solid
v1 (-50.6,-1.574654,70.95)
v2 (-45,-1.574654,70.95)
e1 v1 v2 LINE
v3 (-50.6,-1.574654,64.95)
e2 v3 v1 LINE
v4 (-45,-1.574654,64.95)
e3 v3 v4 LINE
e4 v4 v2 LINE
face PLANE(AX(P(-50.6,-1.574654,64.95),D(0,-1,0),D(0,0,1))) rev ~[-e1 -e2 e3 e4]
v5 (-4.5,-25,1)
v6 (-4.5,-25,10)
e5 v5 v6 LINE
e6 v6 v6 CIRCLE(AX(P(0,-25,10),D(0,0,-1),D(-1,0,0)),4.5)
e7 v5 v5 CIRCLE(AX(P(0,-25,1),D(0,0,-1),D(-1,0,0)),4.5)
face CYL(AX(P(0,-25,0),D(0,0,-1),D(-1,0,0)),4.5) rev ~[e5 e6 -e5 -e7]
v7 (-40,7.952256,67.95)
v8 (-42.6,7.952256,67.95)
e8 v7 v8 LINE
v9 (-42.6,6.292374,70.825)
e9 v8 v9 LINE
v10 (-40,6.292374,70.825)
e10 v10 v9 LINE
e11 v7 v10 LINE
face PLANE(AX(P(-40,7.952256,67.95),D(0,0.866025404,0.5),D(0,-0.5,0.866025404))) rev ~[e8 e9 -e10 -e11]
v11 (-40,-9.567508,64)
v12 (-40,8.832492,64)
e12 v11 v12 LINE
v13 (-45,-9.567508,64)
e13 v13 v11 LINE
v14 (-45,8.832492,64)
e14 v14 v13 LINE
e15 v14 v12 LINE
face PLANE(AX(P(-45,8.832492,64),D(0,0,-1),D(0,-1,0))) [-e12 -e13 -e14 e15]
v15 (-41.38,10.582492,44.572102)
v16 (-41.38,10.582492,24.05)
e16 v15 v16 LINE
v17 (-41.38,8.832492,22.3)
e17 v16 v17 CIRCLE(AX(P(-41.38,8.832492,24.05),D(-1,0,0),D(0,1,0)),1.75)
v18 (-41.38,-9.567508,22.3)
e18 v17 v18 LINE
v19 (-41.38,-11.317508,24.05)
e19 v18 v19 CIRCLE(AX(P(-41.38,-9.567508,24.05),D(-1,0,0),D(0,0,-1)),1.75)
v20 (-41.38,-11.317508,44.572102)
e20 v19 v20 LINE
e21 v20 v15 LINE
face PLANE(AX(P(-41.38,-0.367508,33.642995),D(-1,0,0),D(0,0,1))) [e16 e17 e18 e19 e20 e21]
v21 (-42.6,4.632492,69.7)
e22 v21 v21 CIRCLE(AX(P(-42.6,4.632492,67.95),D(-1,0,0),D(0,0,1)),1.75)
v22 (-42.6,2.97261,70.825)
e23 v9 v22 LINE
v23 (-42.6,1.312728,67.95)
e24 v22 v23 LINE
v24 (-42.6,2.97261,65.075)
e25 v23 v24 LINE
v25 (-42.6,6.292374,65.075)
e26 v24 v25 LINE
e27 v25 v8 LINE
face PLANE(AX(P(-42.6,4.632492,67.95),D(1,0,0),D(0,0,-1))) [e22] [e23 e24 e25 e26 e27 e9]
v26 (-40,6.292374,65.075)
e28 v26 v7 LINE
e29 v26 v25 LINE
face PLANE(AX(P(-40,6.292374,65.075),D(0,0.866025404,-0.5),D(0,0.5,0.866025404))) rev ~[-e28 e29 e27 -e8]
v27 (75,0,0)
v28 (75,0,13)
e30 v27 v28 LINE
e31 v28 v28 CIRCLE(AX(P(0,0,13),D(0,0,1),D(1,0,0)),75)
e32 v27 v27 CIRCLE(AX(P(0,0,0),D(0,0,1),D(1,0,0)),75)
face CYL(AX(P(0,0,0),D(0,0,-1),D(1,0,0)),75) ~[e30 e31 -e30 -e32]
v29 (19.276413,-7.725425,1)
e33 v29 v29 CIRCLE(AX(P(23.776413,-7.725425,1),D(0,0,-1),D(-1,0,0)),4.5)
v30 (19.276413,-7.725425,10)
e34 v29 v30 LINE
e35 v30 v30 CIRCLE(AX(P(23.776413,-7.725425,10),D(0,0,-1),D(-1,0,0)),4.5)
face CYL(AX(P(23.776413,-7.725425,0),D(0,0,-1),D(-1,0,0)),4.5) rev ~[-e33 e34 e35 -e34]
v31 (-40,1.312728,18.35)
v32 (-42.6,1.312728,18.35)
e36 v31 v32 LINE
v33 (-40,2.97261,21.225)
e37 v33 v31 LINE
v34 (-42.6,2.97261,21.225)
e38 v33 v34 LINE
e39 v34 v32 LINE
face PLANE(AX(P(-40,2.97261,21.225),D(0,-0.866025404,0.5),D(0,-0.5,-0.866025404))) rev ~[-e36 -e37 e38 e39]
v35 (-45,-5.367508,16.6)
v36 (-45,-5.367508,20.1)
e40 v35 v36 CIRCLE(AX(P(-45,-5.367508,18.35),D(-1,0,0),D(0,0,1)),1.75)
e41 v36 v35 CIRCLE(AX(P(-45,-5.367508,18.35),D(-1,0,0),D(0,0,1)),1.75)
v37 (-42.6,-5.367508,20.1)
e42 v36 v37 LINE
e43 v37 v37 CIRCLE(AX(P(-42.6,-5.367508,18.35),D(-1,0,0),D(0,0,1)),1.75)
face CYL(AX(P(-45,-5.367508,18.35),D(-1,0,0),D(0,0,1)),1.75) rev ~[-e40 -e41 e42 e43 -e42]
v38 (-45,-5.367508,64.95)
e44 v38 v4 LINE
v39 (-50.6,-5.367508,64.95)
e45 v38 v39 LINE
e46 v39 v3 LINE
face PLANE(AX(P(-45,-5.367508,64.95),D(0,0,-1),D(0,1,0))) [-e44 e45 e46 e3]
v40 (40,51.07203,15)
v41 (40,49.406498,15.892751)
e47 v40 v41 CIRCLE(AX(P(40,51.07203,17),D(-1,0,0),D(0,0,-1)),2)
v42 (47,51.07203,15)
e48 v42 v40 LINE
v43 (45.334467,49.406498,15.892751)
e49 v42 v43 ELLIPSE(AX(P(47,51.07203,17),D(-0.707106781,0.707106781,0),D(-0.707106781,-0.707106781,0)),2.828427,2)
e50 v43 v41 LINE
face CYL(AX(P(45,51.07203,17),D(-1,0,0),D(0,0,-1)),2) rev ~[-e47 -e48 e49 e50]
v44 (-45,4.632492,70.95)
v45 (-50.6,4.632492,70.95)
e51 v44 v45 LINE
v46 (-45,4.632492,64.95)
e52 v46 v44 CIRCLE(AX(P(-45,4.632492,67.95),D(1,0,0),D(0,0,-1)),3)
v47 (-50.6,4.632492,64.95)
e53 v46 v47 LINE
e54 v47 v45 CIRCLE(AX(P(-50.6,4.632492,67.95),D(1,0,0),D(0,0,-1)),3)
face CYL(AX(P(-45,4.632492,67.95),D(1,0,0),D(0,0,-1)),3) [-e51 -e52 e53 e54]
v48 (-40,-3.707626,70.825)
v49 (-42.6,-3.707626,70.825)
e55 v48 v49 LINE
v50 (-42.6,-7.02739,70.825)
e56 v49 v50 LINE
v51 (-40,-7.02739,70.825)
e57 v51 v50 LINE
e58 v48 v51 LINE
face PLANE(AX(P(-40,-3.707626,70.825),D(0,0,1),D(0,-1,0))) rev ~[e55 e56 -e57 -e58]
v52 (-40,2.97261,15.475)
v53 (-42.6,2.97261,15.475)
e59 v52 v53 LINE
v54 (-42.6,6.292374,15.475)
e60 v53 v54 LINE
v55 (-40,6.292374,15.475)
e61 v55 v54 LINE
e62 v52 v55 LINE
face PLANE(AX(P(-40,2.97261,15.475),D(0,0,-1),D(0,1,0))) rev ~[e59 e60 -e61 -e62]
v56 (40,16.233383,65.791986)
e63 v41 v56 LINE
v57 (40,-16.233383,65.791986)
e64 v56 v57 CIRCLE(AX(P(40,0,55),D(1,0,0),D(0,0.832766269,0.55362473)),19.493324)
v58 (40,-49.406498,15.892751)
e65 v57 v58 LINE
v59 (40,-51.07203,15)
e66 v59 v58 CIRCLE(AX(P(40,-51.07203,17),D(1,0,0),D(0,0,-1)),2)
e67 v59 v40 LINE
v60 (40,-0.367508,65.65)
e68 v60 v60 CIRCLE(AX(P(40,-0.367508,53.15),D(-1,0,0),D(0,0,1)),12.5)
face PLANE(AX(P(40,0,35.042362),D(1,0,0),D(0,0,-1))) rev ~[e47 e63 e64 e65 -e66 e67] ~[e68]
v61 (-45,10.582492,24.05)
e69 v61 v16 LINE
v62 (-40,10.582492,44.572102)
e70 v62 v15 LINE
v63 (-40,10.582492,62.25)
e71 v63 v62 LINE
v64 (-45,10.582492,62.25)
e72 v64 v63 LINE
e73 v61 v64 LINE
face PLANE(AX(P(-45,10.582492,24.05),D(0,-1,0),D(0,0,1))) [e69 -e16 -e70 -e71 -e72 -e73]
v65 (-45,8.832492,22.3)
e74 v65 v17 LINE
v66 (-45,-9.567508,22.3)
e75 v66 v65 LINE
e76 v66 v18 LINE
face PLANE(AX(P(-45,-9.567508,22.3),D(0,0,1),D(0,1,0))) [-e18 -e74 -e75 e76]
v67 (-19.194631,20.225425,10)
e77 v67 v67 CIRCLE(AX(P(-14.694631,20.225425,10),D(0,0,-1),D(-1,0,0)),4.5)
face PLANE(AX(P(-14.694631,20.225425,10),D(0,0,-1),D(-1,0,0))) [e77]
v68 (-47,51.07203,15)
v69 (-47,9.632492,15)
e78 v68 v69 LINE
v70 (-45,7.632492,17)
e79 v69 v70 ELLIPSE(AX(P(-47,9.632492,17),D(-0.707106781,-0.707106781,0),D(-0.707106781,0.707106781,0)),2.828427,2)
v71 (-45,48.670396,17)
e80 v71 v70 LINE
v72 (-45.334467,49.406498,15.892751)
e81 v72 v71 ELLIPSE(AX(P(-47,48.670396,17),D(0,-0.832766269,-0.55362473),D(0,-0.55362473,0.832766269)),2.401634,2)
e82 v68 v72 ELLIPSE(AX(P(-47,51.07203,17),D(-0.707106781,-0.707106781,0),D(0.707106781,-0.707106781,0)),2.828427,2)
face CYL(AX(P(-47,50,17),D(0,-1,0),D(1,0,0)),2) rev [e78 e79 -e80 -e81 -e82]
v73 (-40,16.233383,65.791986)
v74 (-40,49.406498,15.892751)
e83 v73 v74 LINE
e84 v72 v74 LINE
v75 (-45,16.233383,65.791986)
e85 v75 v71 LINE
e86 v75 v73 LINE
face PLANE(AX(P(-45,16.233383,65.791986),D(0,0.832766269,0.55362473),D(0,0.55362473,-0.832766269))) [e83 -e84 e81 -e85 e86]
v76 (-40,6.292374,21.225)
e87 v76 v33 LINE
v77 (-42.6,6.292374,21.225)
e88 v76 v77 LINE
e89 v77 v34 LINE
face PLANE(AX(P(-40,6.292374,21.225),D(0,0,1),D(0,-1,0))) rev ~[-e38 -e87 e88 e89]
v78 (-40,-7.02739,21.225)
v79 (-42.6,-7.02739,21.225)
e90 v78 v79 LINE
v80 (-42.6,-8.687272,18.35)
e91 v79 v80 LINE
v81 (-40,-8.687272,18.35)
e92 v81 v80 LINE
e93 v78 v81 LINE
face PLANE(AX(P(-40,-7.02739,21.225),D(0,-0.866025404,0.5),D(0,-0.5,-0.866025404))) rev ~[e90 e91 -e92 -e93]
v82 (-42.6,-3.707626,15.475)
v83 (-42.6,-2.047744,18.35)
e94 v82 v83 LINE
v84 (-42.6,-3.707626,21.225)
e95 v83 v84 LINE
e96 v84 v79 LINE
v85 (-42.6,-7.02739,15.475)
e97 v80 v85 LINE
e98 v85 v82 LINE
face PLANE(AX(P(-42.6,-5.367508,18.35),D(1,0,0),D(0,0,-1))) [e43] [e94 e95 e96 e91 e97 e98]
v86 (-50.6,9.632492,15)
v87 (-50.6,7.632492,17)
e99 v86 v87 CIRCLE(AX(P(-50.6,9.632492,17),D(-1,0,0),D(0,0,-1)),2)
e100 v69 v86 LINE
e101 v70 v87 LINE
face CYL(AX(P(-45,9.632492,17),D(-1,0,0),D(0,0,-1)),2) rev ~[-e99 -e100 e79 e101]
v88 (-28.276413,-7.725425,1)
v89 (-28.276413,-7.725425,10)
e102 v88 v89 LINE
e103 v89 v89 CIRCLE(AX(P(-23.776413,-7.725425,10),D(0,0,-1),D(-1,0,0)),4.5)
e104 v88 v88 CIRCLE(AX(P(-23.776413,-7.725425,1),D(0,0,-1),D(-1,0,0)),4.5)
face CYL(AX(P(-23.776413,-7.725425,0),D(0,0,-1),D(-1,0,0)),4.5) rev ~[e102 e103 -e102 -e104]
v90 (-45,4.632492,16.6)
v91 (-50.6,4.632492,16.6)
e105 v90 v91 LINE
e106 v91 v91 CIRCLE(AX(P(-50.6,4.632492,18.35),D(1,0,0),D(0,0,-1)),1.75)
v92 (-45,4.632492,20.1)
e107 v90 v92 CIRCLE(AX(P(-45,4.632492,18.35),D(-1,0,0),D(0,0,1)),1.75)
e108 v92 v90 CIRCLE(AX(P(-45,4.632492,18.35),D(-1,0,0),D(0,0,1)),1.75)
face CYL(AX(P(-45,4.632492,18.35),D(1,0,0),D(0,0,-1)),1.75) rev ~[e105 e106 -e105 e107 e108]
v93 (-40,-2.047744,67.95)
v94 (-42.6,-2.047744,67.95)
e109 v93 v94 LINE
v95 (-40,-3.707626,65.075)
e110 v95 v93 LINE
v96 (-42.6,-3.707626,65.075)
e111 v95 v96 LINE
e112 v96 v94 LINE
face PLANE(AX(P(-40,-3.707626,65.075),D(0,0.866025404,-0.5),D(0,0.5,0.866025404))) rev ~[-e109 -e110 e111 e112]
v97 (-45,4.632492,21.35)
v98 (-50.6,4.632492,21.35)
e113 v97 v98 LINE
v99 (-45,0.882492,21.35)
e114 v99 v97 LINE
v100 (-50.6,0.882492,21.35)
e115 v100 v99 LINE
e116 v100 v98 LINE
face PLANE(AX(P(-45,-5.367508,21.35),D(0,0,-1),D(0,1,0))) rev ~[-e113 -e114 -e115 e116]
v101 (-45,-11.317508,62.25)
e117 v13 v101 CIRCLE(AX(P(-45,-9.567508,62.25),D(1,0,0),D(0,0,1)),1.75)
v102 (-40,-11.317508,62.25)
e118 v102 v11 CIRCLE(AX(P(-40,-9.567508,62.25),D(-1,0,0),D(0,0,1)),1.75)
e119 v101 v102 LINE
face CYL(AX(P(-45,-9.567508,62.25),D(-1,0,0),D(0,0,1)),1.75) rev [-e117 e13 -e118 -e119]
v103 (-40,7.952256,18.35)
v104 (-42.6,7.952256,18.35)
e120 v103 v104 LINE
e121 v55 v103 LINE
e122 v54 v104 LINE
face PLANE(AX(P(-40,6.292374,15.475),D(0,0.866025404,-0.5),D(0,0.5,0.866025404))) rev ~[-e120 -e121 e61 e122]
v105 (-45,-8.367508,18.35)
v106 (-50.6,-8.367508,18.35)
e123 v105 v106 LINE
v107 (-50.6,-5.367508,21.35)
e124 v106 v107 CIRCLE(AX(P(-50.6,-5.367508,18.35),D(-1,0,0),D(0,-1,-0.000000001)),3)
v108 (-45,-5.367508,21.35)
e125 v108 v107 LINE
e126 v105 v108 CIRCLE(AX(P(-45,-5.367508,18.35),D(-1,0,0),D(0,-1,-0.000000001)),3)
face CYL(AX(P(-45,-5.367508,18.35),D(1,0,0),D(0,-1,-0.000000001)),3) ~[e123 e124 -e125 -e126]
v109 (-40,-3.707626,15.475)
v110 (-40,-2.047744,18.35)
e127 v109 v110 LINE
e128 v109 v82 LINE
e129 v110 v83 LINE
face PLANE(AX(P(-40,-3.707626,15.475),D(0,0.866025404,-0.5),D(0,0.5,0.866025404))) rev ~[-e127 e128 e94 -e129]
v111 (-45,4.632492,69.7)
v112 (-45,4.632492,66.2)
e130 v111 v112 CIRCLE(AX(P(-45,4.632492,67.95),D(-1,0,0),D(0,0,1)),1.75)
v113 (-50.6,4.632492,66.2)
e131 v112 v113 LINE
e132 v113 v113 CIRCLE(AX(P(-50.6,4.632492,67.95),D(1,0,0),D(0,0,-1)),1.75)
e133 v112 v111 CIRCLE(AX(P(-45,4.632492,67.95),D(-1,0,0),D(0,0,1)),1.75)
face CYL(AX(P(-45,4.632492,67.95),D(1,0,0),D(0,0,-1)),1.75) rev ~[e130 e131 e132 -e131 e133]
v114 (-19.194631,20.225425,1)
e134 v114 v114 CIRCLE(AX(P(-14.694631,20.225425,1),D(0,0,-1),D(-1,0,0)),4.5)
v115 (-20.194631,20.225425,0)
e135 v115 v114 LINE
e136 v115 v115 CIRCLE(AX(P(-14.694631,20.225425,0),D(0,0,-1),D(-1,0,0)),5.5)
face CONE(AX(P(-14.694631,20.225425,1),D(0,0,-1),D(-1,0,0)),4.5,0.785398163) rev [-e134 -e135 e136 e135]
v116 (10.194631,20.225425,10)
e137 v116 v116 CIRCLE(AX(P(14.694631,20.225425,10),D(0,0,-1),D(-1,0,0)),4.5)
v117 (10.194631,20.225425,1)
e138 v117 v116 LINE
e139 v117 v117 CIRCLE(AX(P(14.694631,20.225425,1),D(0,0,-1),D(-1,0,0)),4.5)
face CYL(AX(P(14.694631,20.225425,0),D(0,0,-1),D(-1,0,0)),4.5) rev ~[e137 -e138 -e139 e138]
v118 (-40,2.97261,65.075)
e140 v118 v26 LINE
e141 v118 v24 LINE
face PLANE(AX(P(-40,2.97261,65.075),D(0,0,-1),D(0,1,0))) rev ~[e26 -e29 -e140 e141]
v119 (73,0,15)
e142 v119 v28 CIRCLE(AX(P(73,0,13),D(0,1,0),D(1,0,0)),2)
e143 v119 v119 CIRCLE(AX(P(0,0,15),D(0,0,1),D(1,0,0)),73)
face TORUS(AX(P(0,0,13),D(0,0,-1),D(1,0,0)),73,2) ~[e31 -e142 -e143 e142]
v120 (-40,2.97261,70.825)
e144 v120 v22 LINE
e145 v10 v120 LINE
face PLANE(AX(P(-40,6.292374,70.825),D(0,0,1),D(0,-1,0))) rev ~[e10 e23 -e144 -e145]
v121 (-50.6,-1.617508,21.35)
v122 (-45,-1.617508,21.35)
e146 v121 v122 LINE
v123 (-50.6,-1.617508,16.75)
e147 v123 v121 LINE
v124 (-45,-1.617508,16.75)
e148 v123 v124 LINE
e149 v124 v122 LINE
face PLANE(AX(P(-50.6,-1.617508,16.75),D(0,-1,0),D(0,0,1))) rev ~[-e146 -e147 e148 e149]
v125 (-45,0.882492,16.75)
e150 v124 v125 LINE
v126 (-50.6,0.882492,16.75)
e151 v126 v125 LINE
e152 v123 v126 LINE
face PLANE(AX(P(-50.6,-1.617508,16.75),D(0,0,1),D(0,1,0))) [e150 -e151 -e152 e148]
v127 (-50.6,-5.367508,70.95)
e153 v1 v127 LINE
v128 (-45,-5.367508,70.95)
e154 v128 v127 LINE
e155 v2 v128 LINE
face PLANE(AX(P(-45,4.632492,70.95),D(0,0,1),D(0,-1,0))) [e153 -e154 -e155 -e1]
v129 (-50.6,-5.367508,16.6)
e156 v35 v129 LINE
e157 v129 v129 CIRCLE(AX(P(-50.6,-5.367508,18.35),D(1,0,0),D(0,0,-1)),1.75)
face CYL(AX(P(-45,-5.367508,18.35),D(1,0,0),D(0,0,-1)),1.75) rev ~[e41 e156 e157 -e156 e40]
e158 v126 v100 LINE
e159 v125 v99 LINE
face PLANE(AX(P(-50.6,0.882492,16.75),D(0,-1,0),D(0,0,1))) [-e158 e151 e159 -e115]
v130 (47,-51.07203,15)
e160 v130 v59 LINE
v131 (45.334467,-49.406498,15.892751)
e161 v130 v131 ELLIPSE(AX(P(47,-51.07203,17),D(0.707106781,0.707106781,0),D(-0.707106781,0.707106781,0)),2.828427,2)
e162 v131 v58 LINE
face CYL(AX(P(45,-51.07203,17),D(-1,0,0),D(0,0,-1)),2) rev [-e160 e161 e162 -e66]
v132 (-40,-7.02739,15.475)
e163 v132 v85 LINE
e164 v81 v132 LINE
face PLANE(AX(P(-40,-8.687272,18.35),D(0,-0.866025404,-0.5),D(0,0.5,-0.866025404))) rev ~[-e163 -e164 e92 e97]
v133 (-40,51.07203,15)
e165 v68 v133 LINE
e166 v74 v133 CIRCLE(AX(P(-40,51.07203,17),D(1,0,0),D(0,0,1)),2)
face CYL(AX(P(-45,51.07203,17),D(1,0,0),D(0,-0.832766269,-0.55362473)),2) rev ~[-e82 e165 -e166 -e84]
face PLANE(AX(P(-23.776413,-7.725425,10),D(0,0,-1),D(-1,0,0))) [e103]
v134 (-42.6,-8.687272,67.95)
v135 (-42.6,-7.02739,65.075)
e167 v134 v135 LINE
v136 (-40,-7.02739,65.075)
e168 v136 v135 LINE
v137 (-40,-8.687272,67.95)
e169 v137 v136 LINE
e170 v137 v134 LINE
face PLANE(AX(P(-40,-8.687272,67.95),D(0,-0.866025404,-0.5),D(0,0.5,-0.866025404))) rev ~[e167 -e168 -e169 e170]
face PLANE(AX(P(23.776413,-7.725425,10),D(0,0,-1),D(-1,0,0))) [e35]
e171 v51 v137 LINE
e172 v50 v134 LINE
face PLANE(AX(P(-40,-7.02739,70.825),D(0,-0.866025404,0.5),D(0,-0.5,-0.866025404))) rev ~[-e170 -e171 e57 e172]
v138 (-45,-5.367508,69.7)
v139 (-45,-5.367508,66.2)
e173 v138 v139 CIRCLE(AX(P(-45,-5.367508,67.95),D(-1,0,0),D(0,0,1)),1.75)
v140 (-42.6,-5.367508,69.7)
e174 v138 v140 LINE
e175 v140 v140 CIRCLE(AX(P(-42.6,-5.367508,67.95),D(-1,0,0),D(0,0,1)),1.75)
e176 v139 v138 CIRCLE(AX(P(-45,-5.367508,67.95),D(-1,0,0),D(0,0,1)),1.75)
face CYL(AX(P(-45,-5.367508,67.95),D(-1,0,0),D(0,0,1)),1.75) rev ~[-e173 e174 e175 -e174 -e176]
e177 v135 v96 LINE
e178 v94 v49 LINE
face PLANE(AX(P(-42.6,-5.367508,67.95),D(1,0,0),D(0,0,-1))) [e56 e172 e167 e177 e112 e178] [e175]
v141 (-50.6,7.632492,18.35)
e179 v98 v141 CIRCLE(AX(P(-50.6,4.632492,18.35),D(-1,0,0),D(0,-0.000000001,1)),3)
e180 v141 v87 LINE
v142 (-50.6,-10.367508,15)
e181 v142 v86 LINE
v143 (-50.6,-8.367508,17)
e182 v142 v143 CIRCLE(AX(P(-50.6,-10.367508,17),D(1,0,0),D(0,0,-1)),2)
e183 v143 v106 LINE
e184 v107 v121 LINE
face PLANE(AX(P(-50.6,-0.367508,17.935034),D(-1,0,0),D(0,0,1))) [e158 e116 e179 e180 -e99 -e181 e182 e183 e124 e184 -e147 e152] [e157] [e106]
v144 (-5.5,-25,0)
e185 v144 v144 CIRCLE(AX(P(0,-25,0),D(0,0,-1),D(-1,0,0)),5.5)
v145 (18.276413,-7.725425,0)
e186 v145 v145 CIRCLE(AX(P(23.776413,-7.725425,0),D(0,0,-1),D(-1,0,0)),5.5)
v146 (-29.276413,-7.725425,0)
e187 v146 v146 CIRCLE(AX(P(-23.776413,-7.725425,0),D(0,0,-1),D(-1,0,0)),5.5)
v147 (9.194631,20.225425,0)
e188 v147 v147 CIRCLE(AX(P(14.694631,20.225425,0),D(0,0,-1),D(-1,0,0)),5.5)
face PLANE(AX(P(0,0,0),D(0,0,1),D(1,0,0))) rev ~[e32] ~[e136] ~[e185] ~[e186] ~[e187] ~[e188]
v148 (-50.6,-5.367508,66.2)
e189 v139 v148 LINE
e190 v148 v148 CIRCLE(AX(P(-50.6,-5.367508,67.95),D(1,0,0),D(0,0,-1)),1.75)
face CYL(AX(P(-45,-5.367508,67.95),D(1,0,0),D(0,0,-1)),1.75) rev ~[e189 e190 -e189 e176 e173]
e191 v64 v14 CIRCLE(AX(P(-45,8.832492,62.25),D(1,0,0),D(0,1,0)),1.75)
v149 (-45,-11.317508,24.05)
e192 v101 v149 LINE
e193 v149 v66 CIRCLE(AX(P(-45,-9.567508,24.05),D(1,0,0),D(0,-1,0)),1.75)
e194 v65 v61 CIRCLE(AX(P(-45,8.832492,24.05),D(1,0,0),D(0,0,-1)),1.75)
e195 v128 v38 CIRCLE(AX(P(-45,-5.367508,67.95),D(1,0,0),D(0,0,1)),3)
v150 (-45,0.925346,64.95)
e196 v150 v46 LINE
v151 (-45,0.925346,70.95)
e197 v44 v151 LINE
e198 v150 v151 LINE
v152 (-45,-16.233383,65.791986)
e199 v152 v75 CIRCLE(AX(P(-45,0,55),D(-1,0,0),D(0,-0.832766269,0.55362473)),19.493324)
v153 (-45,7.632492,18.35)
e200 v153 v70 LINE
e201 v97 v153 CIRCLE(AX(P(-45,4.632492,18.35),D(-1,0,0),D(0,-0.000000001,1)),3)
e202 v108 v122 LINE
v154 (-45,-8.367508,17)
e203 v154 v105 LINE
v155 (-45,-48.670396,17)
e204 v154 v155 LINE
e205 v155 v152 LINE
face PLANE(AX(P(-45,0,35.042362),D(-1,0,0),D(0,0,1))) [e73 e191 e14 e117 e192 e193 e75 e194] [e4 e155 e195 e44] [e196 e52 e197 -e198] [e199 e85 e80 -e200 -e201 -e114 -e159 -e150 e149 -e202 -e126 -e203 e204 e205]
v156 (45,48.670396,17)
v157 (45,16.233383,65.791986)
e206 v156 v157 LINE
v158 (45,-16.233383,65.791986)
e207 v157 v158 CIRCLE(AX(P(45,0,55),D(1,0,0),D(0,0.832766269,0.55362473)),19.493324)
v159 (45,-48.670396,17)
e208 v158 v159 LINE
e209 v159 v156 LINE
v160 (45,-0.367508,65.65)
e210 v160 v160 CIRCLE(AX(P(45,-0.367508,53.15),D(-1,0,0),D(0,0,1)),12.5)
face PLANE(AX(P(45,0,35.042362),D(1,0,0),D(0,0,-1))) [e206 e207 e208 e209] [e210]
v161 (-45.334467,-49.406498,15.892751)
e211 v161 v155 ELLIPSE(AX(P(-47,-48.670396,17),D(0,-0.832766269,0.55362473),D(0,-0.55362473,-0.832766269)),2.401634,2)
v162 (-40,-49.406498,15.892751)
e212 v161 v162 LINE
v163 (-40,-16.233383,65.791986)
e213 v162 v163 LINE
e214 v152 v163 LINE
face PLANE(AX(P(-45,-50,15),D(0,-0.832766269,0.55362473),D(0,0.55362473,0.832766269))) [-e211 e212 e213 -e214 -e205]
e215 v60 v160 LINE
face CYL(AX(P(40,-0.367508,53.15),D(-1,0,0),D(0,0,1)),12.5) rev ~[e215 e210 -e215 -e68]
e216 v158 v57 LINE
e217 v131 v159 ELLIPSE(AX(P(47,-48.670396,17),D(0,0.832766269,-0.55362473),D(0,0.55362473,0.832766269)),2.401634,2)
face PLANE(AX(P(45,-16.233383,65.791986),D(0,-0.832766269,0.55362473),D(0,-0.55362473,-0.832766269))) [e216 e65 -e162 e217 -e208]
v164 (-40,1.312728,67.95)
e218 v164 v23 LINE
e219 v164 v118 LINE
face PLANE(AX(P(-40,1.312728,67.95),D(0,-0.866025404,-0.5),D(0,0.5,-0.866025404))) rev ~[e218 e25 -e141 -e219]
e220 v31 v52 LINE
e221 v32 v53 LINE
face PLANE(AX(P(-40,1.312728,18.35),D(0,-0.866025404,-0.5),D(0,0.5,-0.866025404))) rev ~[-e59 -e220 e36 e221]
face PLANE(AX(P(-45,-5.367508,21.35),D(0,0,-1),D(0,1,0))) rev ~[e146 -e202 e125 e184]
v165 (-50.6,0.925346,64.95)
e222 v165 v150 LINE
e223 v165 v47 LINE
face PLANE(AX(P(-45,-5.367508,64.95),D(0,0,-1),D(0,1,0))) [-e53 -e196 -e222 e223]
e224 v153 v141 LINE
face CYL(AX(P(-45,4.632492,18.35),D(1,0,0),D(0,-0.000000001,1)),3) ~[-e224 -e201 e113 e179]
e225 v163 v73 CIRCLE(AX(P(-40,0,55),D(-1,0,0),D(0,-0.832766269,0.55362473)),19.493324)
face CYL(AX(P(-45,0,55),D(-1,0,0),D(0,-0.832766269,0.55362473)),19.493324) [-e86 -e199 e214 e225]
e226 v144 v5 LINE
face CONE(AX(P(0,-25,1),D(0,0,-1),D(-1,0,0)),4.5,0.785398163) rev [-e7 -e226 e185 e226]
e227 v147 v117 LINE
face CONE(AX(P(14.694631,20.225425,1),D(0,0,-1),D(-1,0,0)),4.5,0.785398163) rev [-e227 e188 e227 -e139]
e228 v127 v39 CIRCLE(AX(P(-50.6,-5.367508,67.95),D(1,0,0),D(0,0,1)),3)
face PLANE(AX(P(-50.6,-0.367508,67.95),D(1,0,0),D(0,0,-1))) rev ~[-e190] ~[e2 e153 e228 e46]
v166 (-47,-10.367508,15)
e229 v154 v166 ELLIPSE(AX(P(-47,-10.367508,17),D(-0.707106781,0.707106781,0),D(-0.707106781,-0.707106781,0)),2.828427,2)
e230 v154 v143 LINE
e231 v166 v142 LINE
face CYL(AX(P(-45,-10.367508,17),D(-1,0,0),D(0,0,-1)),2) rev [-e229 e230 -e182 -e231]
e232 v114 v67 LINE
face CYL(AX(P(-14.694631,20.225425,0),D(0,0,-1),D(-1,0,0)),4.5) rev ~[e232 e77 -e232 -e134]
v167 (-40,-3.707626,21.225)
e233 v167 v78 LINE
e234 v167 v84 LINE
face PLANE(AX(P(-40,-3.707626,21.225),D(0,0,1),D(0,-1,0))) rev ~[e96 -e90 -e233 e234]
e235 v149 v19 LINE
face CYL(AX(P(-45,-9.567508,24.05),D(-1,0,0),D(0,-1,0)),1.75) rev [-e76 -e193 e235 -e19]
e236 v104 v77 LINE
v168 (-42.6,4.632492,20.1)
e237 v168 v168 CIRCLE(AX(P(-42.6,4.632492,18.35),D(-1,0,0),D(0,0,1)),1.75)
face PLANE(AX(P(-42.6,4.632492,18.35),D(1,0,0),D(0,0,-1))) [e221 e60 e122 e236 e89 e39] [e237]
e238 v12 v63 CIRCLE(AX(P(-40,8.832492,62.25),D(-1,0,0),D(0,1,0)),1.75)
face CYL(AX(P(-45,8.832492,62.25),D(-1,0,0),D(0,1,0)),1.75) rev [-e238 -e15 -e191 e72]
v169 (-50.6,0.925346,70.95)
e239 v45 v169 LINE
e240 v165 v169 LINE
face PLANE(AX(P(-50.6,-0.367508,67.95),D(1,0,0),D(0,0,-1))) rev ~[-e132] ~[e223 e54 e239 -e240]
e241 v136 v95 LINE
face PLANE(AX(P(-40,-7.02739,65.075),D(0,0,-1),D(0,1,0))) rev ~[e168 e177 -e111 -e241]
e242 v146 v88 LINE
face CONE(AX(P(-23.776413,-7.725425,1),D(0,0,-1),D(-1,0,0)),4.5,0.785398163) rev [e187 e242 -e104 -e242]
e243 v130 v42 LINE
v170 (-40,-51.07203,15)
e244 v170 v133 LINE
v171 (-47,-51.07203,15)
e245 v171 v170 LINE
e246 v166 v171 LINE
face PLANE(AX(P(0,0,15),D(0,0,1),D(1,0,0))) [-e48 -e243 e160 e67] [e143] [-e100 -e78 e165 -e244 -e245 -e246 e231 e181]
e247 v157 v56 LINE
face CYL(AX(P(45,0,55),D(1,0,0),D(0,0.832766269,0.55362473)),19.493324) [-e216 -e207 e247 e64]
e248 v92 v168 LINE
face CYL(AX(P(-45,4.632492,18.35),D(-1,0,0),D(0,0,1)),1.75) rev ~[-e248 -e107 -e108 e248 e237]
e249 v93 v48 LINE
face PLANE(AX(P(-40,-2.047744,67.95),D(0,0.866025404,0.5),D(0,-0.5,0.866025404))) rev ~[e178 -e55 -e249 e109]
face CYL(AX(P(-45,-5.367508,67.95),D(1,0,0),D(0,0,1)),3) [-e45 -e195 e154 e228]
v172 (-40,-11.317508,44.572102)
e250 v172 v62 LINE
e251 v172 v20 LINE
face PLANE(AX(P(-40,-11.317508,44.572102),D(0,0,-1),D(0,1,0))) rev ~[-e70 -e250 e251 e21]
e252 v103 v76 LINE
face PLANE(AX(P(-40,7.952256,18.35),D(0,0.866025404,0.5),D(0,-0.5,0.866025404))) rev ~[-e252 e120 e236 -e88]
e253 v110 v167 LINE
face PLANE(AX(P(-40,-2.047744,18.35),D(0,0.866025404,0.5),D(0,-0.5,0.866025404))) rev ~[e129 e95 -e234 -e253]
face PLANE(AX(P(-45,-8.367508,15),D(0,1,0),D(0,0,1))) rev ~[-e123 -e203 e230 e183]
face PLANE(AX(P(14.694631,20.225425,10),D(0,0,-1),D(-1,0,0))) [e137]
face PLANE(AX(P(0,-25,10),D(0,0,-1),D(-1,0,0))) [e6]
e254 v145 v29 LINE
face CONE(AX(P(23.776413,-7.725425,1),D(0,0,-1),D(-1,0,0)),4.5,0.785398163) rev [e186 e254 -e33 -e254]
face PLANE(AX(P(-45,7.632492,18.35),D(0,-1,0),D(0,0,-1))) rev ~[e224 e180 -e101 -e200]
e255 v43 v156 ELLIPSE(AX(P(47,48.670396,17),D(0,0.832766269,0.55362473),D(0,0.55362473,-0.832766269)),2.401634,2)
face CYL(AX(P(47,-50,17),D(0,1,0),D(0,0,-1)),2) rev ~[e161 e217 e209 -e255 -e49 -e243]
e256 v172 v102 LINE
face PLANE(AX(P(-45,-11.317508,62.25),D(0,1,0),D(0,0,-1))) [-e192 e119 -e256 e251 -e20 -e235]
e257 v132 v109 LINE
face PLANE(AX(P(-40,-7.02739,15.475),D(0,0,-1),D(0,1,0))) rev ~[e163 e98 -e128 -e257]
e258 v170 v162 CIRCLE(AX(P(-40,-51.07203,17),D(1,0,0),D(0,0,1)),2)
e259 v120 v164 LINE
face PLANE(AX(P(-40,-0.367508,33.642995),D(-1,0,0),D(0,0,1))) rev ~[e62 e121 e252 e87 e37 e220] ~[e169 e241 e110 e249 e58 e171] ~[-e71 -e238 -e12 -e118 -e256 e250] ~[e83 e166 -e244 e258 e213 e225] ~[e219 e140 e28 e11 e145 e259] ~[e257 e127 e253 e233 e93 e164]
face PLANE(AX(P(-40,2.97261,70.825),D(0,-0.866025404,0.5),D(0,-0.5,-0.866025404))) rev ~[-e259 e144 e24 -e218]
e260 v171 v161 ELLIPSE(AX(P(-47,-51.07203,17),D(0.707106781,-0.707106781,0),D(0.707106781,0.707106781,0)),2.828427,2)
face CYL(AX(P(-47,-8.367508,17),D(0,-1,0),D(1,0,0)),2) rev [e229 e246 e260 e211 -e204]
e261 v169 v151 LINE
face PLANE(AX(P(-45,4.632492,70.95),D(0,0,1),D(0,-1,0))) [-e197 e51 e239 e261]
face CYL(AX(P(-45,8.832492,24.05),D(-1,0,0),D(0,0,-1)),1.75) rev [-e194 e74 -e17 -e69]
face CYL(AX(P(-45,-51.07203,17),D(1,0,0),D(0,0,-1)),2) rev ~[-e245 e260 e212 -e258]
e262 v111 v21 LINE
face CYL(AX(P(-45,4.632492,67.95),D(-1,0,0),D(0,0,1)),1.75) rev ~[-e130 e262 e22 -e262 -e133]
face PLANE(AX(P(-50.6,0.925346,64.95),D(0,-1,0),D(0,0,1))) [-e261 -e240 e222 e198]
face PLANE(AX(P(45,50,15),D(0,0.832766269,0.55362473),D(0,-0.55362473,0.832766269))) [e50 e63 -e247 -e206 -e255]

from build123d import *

# Parameters (mm, degrees)
SKETCH1_R           = 75
BASE_PLATE_DEPTH    = 15
SKETCH2_R           = 4.5
DRIVE_HOLES_DEPTH   = 10
CHAMFER1_SIZE       = 1
BASE_START          = 45
BASE_FIN_DEPTH      = 5
BASE_START_2        = 85
BASE_FIN_2_DEPTH    = 5
CUT_EXTRUDE1_REACH  = 122
CUT_EXTRUDE2_REACH  = 122
SKETCH7_R           = 1.75
BOSS_EXTRUDE1_DEPTH = 5.6
SKETCH9_R           = 1.75
CUT_EXTRUDE3_DEPTH  = 5.6
SKETCH10_W          = 4.6
SKETCH10_H          = 2.5
SKETCH10_W_2        = 6
CUT_EXTRUDE4_DEPTH  = 5.6
CUT_EXTRUDE5_DEPTH  = 2.6
BOSS_EXTRUDE2_DEPTH = 1.38
FILLET1_R           = 2
FILLET2_R           = 2
CUT_EXTRUDE6_REACH  = 37
SKETCH13_R          = 12.5


with BuildPart() as part:
    # Sketch1 → Base Plate (new body)
    with BuildSketch(Plane.XY):
        Circle(SKETCH1_R)
    extrude(amount=BASE_PLATE_DEPTH)

    # Sketch2 → Drive Holes (cut)
    with BuildSketch(Plane(origin=(0, 0, 0), x_dir=(-1, 0, 0), z_dir=(0, 0, -1))):
        with Locations((0, -25)):
            Circle(SKETCH2_R)
        with Locations((-23.776412907, -7.725424859)):
            Circle(SKETCH2_R)
        with Locations((-14.694631307, 20.225424859)):
            Circle(SKETCH2_R)
        with Locations((14.694631307, 20.225424859)):
            Circle(SKETCH2_R)
        with Locations((23.776412907, -7.725424859)):
            Circle(SKETCH2_R)
    extrude(amount=-DRIVE_HOLES_DEPTH, mode=Mode.SUBTRACT)

    # Chamfer1
    chamfer1_edges = [part.edges().sort_by_distance(p)[0] for p in [
        (28.276412907, -7.725424859, 0),
        (19.194631307, 20.225424859, 0),
        (-10.194631307, 20.225424859, 0),
        (-19.276412907, -7.725424859, 0),
        (4.5, -25, 0),
    ]]
    chamfer(chamfer1_edges, length=CHAMFER1_SIZE)

    # Sketch4 → Base Fin (add)
    with BuildSketch(Plane(origin=(0, 0, 0), x_dir=(0, 0, -1), z_dir=(1, 0, 0)).offset(BASE_START)):
        with BuildLine():
            Line((-15, 50), (-65.791986374, 16.233382914))
            ThreePointArc((-65.791986374, 16.233382914), (-74.493324261, 0), (-65.791986374, -16.233382914))
            Line((-65.791986374, -16.233382914), (-15, -50))
            Line((-15, -50), (-15, 50))
        make_face()
    extrude(amount=-BASE_FIN_DEPTH)

    # Sketch5 → Base Fin 2 (add)
    with BuildSketch(Plane.ZY.offset(-40).offset(BASE_START_2)):
        with BuildLine():
            Line((15, 50), (15, -50))
            Line((15, -50), (65.791986374, -16.233382914))
            ThreePointArc((65.791986374, -16.233382914), (74.493324261, 0), (65.791986374, 16.233382914))
            Line((65.791986374, 16.233382914), (15, 50))
        make_face()
    extrude(amount=-BASE_FIN_2_DEPTH)

    # Sketch6 → Cut-Extrude1 (cut, up to next)
    with BuildSketch(Plane.ZY.offset(45), mode=Mode.PRIVATE) as cut_extrude1_sk1:
        with BuildLine():
            Line((64, 8.832492425), (64, -9.567507575))
            ThreePointArc((64, -9.567507575), (63.487436867, -10.804944442), (62.25, -11.317507575))
            Line((62.25, -11.317507575), (24.05, -11.317507575))
            ThreePointArc((24.05, -11.317507575), (22.812563133, -10.804944442), (22.3, -9.567507575))
            Line((22.3, -9.567507575), (22.3, 8.832492425))
            ThreePointArc((22.3, 8.832492425), (22.812563133, 10.069929292), (24.05, 10.582492425))
            Line((24.05, 10.582492425), (62.25, 10.582492425))
            ThreePointArc((62.25, 10.582492425), (63.487436867, 10.069929292), (64, 8.832492425))
        make_face()
    cut_extrude1_tool1 = extrude(cut_extrude1_sk1.sketch, amount=-CUT_EXTRUDE1_REACH, mode=Mode.PRIVATE) & part.part
    add(cut_extrude1_tool1.solids().sort_by_distance((-45, -0.367508, 43.15))[0], mode=Mode.SUBTRACT)

    # Sketch7 → Cut-Extrude2 (cut, up to next)
    with BuildSketch(Plane.ZY.offset(45), mode=Mode.PRIVATE) as cut_extrude2_sk1:
        with Locations((18.35, 4.632492425)):
            Circle(SKETCH7_R)
    cut_extrude2_tool1 = extrude(cut_extrude2_sk1.sketch, amount=-CUT_EXTRUDE2_REACH, mode=Mode.PRIVATE) & part.part
    add(cut_extrude2_tool1.solids().sort_by_distance((-45, 4.632492, 18.35))[0], mode=Mode.SUBTRACT)
    # Sketch7 → Cut-Extrude2 (cut, up to next)
    with BuildSketch(Plane.ZY.offset(45), mode=Mode.PRIVATE) as cut_extrude2_sk2:
        with Locations((18.35, -5.367507575)):
            Circle(SKETCH7_R)
    cut_extrude2_tool2 = extrude(cut_extrude2_sk2.sketch, amount=-CUT_EXTRUDE2_REACH, mode=Mode.PRIVATE) & part.part
    add(cut_extrude2_tool2.solids().sort_by_distance((-45, -5.367508, 18.35))[0], mode=Mode.SUBTRACT)
    # Sketch7 → Cut-Extrude2 (cut, up to next)
    with BuildSketch(Plane.ZY.offset(45), mode=Mode.PRIVATE) as cut_extrude2_sk3:
        with Locations((67.95, -5.367507575)):
            Circle(SKETCH7_R)
    cut_extrude2_tool3 = extrude(cut_extrude2_sk3.sketch, amount=-CUT_EXTRUDE2_REACH, mode=Mode.PRIVATE) & part.part
    add(cut_extrude2_tool3.solids().sort_by_distance((-45, -5.367508, 67.95))[0], mode=Mode.SUBTRACT)
    # Sketch7 → Cut-Extrude2 (cut, up to next)
    with BuildSketch(Plane.ZY.offset(45), mode=Mode.PRIVATE) as cut_extrude2_sk4:
        with Locations((67.95, 4.632492425)):
            Circle(SKETCH7_R)
    cut_extrude2_tool4 = extrude(cut_extrude2_sk4.sketch, amount=-CUT_EXTRUDE2_REACH, mode=Mode.PRIVATE) & part.part
    add(cut_extrude2_tool4.solids().sort_by_distance((-45, 4.632492, 67.95))[0], mode=Mode.SUBTRACT)

    # Sketch8 → Boss-Extrude1 (add)
    with BuildSketch(Plane.ZY.offset(45)):
        with BuildLine():
            Line((70.95, 4.632492425), (70.95, -5.367507575))
            ThreePointArc((70.95, -5.367507575), (67.95, -8.367507575), (64.95, -5.367507575))
            Line((64.95, -5.367507575), (64.95, 4.632492425))
            ThreePointArc((64.95, 4.632492425), (67.95, 7.632492425), (70.95, 4.632492425))
        make_face()
        with BuildLine():
            Line((15, 7.632492425), (15, 0))
            Line((15, 0), (15, -8.367507575))
            Line((15, -8.367507575), (18.35, -8.367507575))
            ThreePointArc((18.35, -8.367507575), (20.471320344, -7.488827919), (21.35, -5.367507575))
            Line((21.35, -5.367507575), (21.35, 4.632492425))
            ThreePointArc((21.35, 4.632492425), (20.471320344, 6.753812769), (18.35, 7.632492425))
            Line((18.35, 7.632492425), (15, 7.632492425))
        make_face()
    extrude(amount=BOSS_EXTRUDE1_DEPTH)

    # Sketch9 → Cut-Extrude3 (cut)
    with BuildSketch(Plane(origin=(-45, 0, 0), x_dir=(0, 0, -1), z_dir=(1, 0, 0))):
        with Locations((-67.95, -5.367507575)):
            Circle(SKETCH9_R)
        with Locations((-67.95, 4.632492425)):
            Circle(SKETCH9_R)
        with Locations((-18.35, -5.367507575)):
            Circle(SKETCH9_R)
        with Locations((-18.35, 4.632492425)):
            Circle(SKETCH9_R)
    extrude(amount=-CUT_EXTRUDE3_DEPTH, mode=Mode.SUBTRACT)

    # Sketch10 → Cut-Extrude4 (cut)
    with BuildSketch(Plane.ZY.offset(50.6)):
        with Locations((19.05, -0.367507575)):
            Rectangle(SKETCH10_W, SKETCH10_H)
        with Locations((67.95, -0.324654002)):
            Rectangle(SKETCH10_W_2, SKETCH10_H)
    extrude(amount=-CUT_EXTRUDE4_DEPTH, mode=Mode.SUBTRACT)

    # Sketch11 → Cut-Extrude5 (cut)
    with BuildSketch(Plane(origin=(-40, 0, 0), x_dir=(0, 0, -1), z_dir=(1, 0, 0))):
        Polygon((-65.075, -7.027389599), (-65.075, -3.707625551), (-67.95, -2.047743527), (-70.825, -3.707625551), (-70.825, -7.027389599), (-67.95, -8.687271623), align=None)
        Polygon((-65.075, 2.972610401), (-65.075, 6.292374449), (-67.95, 7.952256473), (-70.825, 6.292374449), (-70.825, 2.972610401), (-67.95, 1.312728377), align=None)
        Polygon((-15.475, -7.027389599), (-15.475, -3.707625551), (-18.35, -2.047743527), (-21.225, -3.707625551), (-21.225, -7.027389599), (-18.35, -8.687271623), align=None)
        Polygon((-15.475, 2.972610401), (-15.475, 6.292374449), (-18.35, 7.952256473), (-21.225, 6.292374449), (-21.225, 2.972610401), (-18.35, 1.312728377), align=None)
    extrude(amount=-CUT_EXTRUDE5_DEPTH, mode=Mode.SUBTRACT)

    # Sketch12 → Boss-Extrude2 (add)
    with BuildSketch(Plane(origin=(-40, 0, 0), x_dir=(0, 0, -1), z_dir=(1, 0, 0))):
        with BuildLine():
            Line((-44.572101834, -11.317507575), (-44.572101834, 10.582492425))
            Line((-44.572101834, 10.582492425), (-24.05, 10.582492425))
            ThreePointArc((-24.05, 10.582492425), (-22.812563133, 10.069929292), (-22.3, 8.832492425))
            Line((-22.3, 8.832492425), (-22.3, -9.567507575))
            ThreePointArc((-22.3, -9.567507575), (-22.812563133, -10.804944442), (-24.05, -11.317507575))
            Line((-24.05, -11.317507575), (-44.572101834, -11.317507575))
        make_face()
    extrude(amount=-BOSS_EXTRUDE2_DEPTH)

    # Fillet1
    fillet1_edges = [part.edges().sort_by_distance(p)[0] for p in [
        (-45, -29.183753787, 15),
        (-47.8, -8.367507575, 15),
        (-47.8, 7.632492425, 15),
        (42.5, 50, 15),
        (42.5, -50, 15),
        (45, 0, 15),
        (-42.5, 50, 15),
        (-42.5, -50, 15),
        (-45, 28.816246213, 15),
    ]]
    fillet(fillet1_edges, radius=FILLET1_R)

    # Fillet2
    fillet2_edges = [part.edges().sort_by_distance(p)[0] for p in [
        (-75, 0, 15),
    ]]
    fillet(fillet2_edges, radius=FILLET2_R)

    # Sketch13 → Cut-Extrude6 (cut, up to next)
    with BuildSketch(Plane.ZY.offset(-40), mode=Mode.PRIVATE) as cut_extrude6_sk1:
        with Locations((53.15, -0.367507575)):
            Circle(SKETCH13_R)
    cut_extrude6_tool1 = extrude(cut_extrude6_sk1.sketch, amount=-CUT_EXTRUDE6_REACH, mode=Mode.PRIVATE) & part.part
    add(cut_extrude6_tool1.solids().sort_by_distance((40, -0.367508, 53.15))[0], mode=Mode.SUBTRACT)


solid = part.part
